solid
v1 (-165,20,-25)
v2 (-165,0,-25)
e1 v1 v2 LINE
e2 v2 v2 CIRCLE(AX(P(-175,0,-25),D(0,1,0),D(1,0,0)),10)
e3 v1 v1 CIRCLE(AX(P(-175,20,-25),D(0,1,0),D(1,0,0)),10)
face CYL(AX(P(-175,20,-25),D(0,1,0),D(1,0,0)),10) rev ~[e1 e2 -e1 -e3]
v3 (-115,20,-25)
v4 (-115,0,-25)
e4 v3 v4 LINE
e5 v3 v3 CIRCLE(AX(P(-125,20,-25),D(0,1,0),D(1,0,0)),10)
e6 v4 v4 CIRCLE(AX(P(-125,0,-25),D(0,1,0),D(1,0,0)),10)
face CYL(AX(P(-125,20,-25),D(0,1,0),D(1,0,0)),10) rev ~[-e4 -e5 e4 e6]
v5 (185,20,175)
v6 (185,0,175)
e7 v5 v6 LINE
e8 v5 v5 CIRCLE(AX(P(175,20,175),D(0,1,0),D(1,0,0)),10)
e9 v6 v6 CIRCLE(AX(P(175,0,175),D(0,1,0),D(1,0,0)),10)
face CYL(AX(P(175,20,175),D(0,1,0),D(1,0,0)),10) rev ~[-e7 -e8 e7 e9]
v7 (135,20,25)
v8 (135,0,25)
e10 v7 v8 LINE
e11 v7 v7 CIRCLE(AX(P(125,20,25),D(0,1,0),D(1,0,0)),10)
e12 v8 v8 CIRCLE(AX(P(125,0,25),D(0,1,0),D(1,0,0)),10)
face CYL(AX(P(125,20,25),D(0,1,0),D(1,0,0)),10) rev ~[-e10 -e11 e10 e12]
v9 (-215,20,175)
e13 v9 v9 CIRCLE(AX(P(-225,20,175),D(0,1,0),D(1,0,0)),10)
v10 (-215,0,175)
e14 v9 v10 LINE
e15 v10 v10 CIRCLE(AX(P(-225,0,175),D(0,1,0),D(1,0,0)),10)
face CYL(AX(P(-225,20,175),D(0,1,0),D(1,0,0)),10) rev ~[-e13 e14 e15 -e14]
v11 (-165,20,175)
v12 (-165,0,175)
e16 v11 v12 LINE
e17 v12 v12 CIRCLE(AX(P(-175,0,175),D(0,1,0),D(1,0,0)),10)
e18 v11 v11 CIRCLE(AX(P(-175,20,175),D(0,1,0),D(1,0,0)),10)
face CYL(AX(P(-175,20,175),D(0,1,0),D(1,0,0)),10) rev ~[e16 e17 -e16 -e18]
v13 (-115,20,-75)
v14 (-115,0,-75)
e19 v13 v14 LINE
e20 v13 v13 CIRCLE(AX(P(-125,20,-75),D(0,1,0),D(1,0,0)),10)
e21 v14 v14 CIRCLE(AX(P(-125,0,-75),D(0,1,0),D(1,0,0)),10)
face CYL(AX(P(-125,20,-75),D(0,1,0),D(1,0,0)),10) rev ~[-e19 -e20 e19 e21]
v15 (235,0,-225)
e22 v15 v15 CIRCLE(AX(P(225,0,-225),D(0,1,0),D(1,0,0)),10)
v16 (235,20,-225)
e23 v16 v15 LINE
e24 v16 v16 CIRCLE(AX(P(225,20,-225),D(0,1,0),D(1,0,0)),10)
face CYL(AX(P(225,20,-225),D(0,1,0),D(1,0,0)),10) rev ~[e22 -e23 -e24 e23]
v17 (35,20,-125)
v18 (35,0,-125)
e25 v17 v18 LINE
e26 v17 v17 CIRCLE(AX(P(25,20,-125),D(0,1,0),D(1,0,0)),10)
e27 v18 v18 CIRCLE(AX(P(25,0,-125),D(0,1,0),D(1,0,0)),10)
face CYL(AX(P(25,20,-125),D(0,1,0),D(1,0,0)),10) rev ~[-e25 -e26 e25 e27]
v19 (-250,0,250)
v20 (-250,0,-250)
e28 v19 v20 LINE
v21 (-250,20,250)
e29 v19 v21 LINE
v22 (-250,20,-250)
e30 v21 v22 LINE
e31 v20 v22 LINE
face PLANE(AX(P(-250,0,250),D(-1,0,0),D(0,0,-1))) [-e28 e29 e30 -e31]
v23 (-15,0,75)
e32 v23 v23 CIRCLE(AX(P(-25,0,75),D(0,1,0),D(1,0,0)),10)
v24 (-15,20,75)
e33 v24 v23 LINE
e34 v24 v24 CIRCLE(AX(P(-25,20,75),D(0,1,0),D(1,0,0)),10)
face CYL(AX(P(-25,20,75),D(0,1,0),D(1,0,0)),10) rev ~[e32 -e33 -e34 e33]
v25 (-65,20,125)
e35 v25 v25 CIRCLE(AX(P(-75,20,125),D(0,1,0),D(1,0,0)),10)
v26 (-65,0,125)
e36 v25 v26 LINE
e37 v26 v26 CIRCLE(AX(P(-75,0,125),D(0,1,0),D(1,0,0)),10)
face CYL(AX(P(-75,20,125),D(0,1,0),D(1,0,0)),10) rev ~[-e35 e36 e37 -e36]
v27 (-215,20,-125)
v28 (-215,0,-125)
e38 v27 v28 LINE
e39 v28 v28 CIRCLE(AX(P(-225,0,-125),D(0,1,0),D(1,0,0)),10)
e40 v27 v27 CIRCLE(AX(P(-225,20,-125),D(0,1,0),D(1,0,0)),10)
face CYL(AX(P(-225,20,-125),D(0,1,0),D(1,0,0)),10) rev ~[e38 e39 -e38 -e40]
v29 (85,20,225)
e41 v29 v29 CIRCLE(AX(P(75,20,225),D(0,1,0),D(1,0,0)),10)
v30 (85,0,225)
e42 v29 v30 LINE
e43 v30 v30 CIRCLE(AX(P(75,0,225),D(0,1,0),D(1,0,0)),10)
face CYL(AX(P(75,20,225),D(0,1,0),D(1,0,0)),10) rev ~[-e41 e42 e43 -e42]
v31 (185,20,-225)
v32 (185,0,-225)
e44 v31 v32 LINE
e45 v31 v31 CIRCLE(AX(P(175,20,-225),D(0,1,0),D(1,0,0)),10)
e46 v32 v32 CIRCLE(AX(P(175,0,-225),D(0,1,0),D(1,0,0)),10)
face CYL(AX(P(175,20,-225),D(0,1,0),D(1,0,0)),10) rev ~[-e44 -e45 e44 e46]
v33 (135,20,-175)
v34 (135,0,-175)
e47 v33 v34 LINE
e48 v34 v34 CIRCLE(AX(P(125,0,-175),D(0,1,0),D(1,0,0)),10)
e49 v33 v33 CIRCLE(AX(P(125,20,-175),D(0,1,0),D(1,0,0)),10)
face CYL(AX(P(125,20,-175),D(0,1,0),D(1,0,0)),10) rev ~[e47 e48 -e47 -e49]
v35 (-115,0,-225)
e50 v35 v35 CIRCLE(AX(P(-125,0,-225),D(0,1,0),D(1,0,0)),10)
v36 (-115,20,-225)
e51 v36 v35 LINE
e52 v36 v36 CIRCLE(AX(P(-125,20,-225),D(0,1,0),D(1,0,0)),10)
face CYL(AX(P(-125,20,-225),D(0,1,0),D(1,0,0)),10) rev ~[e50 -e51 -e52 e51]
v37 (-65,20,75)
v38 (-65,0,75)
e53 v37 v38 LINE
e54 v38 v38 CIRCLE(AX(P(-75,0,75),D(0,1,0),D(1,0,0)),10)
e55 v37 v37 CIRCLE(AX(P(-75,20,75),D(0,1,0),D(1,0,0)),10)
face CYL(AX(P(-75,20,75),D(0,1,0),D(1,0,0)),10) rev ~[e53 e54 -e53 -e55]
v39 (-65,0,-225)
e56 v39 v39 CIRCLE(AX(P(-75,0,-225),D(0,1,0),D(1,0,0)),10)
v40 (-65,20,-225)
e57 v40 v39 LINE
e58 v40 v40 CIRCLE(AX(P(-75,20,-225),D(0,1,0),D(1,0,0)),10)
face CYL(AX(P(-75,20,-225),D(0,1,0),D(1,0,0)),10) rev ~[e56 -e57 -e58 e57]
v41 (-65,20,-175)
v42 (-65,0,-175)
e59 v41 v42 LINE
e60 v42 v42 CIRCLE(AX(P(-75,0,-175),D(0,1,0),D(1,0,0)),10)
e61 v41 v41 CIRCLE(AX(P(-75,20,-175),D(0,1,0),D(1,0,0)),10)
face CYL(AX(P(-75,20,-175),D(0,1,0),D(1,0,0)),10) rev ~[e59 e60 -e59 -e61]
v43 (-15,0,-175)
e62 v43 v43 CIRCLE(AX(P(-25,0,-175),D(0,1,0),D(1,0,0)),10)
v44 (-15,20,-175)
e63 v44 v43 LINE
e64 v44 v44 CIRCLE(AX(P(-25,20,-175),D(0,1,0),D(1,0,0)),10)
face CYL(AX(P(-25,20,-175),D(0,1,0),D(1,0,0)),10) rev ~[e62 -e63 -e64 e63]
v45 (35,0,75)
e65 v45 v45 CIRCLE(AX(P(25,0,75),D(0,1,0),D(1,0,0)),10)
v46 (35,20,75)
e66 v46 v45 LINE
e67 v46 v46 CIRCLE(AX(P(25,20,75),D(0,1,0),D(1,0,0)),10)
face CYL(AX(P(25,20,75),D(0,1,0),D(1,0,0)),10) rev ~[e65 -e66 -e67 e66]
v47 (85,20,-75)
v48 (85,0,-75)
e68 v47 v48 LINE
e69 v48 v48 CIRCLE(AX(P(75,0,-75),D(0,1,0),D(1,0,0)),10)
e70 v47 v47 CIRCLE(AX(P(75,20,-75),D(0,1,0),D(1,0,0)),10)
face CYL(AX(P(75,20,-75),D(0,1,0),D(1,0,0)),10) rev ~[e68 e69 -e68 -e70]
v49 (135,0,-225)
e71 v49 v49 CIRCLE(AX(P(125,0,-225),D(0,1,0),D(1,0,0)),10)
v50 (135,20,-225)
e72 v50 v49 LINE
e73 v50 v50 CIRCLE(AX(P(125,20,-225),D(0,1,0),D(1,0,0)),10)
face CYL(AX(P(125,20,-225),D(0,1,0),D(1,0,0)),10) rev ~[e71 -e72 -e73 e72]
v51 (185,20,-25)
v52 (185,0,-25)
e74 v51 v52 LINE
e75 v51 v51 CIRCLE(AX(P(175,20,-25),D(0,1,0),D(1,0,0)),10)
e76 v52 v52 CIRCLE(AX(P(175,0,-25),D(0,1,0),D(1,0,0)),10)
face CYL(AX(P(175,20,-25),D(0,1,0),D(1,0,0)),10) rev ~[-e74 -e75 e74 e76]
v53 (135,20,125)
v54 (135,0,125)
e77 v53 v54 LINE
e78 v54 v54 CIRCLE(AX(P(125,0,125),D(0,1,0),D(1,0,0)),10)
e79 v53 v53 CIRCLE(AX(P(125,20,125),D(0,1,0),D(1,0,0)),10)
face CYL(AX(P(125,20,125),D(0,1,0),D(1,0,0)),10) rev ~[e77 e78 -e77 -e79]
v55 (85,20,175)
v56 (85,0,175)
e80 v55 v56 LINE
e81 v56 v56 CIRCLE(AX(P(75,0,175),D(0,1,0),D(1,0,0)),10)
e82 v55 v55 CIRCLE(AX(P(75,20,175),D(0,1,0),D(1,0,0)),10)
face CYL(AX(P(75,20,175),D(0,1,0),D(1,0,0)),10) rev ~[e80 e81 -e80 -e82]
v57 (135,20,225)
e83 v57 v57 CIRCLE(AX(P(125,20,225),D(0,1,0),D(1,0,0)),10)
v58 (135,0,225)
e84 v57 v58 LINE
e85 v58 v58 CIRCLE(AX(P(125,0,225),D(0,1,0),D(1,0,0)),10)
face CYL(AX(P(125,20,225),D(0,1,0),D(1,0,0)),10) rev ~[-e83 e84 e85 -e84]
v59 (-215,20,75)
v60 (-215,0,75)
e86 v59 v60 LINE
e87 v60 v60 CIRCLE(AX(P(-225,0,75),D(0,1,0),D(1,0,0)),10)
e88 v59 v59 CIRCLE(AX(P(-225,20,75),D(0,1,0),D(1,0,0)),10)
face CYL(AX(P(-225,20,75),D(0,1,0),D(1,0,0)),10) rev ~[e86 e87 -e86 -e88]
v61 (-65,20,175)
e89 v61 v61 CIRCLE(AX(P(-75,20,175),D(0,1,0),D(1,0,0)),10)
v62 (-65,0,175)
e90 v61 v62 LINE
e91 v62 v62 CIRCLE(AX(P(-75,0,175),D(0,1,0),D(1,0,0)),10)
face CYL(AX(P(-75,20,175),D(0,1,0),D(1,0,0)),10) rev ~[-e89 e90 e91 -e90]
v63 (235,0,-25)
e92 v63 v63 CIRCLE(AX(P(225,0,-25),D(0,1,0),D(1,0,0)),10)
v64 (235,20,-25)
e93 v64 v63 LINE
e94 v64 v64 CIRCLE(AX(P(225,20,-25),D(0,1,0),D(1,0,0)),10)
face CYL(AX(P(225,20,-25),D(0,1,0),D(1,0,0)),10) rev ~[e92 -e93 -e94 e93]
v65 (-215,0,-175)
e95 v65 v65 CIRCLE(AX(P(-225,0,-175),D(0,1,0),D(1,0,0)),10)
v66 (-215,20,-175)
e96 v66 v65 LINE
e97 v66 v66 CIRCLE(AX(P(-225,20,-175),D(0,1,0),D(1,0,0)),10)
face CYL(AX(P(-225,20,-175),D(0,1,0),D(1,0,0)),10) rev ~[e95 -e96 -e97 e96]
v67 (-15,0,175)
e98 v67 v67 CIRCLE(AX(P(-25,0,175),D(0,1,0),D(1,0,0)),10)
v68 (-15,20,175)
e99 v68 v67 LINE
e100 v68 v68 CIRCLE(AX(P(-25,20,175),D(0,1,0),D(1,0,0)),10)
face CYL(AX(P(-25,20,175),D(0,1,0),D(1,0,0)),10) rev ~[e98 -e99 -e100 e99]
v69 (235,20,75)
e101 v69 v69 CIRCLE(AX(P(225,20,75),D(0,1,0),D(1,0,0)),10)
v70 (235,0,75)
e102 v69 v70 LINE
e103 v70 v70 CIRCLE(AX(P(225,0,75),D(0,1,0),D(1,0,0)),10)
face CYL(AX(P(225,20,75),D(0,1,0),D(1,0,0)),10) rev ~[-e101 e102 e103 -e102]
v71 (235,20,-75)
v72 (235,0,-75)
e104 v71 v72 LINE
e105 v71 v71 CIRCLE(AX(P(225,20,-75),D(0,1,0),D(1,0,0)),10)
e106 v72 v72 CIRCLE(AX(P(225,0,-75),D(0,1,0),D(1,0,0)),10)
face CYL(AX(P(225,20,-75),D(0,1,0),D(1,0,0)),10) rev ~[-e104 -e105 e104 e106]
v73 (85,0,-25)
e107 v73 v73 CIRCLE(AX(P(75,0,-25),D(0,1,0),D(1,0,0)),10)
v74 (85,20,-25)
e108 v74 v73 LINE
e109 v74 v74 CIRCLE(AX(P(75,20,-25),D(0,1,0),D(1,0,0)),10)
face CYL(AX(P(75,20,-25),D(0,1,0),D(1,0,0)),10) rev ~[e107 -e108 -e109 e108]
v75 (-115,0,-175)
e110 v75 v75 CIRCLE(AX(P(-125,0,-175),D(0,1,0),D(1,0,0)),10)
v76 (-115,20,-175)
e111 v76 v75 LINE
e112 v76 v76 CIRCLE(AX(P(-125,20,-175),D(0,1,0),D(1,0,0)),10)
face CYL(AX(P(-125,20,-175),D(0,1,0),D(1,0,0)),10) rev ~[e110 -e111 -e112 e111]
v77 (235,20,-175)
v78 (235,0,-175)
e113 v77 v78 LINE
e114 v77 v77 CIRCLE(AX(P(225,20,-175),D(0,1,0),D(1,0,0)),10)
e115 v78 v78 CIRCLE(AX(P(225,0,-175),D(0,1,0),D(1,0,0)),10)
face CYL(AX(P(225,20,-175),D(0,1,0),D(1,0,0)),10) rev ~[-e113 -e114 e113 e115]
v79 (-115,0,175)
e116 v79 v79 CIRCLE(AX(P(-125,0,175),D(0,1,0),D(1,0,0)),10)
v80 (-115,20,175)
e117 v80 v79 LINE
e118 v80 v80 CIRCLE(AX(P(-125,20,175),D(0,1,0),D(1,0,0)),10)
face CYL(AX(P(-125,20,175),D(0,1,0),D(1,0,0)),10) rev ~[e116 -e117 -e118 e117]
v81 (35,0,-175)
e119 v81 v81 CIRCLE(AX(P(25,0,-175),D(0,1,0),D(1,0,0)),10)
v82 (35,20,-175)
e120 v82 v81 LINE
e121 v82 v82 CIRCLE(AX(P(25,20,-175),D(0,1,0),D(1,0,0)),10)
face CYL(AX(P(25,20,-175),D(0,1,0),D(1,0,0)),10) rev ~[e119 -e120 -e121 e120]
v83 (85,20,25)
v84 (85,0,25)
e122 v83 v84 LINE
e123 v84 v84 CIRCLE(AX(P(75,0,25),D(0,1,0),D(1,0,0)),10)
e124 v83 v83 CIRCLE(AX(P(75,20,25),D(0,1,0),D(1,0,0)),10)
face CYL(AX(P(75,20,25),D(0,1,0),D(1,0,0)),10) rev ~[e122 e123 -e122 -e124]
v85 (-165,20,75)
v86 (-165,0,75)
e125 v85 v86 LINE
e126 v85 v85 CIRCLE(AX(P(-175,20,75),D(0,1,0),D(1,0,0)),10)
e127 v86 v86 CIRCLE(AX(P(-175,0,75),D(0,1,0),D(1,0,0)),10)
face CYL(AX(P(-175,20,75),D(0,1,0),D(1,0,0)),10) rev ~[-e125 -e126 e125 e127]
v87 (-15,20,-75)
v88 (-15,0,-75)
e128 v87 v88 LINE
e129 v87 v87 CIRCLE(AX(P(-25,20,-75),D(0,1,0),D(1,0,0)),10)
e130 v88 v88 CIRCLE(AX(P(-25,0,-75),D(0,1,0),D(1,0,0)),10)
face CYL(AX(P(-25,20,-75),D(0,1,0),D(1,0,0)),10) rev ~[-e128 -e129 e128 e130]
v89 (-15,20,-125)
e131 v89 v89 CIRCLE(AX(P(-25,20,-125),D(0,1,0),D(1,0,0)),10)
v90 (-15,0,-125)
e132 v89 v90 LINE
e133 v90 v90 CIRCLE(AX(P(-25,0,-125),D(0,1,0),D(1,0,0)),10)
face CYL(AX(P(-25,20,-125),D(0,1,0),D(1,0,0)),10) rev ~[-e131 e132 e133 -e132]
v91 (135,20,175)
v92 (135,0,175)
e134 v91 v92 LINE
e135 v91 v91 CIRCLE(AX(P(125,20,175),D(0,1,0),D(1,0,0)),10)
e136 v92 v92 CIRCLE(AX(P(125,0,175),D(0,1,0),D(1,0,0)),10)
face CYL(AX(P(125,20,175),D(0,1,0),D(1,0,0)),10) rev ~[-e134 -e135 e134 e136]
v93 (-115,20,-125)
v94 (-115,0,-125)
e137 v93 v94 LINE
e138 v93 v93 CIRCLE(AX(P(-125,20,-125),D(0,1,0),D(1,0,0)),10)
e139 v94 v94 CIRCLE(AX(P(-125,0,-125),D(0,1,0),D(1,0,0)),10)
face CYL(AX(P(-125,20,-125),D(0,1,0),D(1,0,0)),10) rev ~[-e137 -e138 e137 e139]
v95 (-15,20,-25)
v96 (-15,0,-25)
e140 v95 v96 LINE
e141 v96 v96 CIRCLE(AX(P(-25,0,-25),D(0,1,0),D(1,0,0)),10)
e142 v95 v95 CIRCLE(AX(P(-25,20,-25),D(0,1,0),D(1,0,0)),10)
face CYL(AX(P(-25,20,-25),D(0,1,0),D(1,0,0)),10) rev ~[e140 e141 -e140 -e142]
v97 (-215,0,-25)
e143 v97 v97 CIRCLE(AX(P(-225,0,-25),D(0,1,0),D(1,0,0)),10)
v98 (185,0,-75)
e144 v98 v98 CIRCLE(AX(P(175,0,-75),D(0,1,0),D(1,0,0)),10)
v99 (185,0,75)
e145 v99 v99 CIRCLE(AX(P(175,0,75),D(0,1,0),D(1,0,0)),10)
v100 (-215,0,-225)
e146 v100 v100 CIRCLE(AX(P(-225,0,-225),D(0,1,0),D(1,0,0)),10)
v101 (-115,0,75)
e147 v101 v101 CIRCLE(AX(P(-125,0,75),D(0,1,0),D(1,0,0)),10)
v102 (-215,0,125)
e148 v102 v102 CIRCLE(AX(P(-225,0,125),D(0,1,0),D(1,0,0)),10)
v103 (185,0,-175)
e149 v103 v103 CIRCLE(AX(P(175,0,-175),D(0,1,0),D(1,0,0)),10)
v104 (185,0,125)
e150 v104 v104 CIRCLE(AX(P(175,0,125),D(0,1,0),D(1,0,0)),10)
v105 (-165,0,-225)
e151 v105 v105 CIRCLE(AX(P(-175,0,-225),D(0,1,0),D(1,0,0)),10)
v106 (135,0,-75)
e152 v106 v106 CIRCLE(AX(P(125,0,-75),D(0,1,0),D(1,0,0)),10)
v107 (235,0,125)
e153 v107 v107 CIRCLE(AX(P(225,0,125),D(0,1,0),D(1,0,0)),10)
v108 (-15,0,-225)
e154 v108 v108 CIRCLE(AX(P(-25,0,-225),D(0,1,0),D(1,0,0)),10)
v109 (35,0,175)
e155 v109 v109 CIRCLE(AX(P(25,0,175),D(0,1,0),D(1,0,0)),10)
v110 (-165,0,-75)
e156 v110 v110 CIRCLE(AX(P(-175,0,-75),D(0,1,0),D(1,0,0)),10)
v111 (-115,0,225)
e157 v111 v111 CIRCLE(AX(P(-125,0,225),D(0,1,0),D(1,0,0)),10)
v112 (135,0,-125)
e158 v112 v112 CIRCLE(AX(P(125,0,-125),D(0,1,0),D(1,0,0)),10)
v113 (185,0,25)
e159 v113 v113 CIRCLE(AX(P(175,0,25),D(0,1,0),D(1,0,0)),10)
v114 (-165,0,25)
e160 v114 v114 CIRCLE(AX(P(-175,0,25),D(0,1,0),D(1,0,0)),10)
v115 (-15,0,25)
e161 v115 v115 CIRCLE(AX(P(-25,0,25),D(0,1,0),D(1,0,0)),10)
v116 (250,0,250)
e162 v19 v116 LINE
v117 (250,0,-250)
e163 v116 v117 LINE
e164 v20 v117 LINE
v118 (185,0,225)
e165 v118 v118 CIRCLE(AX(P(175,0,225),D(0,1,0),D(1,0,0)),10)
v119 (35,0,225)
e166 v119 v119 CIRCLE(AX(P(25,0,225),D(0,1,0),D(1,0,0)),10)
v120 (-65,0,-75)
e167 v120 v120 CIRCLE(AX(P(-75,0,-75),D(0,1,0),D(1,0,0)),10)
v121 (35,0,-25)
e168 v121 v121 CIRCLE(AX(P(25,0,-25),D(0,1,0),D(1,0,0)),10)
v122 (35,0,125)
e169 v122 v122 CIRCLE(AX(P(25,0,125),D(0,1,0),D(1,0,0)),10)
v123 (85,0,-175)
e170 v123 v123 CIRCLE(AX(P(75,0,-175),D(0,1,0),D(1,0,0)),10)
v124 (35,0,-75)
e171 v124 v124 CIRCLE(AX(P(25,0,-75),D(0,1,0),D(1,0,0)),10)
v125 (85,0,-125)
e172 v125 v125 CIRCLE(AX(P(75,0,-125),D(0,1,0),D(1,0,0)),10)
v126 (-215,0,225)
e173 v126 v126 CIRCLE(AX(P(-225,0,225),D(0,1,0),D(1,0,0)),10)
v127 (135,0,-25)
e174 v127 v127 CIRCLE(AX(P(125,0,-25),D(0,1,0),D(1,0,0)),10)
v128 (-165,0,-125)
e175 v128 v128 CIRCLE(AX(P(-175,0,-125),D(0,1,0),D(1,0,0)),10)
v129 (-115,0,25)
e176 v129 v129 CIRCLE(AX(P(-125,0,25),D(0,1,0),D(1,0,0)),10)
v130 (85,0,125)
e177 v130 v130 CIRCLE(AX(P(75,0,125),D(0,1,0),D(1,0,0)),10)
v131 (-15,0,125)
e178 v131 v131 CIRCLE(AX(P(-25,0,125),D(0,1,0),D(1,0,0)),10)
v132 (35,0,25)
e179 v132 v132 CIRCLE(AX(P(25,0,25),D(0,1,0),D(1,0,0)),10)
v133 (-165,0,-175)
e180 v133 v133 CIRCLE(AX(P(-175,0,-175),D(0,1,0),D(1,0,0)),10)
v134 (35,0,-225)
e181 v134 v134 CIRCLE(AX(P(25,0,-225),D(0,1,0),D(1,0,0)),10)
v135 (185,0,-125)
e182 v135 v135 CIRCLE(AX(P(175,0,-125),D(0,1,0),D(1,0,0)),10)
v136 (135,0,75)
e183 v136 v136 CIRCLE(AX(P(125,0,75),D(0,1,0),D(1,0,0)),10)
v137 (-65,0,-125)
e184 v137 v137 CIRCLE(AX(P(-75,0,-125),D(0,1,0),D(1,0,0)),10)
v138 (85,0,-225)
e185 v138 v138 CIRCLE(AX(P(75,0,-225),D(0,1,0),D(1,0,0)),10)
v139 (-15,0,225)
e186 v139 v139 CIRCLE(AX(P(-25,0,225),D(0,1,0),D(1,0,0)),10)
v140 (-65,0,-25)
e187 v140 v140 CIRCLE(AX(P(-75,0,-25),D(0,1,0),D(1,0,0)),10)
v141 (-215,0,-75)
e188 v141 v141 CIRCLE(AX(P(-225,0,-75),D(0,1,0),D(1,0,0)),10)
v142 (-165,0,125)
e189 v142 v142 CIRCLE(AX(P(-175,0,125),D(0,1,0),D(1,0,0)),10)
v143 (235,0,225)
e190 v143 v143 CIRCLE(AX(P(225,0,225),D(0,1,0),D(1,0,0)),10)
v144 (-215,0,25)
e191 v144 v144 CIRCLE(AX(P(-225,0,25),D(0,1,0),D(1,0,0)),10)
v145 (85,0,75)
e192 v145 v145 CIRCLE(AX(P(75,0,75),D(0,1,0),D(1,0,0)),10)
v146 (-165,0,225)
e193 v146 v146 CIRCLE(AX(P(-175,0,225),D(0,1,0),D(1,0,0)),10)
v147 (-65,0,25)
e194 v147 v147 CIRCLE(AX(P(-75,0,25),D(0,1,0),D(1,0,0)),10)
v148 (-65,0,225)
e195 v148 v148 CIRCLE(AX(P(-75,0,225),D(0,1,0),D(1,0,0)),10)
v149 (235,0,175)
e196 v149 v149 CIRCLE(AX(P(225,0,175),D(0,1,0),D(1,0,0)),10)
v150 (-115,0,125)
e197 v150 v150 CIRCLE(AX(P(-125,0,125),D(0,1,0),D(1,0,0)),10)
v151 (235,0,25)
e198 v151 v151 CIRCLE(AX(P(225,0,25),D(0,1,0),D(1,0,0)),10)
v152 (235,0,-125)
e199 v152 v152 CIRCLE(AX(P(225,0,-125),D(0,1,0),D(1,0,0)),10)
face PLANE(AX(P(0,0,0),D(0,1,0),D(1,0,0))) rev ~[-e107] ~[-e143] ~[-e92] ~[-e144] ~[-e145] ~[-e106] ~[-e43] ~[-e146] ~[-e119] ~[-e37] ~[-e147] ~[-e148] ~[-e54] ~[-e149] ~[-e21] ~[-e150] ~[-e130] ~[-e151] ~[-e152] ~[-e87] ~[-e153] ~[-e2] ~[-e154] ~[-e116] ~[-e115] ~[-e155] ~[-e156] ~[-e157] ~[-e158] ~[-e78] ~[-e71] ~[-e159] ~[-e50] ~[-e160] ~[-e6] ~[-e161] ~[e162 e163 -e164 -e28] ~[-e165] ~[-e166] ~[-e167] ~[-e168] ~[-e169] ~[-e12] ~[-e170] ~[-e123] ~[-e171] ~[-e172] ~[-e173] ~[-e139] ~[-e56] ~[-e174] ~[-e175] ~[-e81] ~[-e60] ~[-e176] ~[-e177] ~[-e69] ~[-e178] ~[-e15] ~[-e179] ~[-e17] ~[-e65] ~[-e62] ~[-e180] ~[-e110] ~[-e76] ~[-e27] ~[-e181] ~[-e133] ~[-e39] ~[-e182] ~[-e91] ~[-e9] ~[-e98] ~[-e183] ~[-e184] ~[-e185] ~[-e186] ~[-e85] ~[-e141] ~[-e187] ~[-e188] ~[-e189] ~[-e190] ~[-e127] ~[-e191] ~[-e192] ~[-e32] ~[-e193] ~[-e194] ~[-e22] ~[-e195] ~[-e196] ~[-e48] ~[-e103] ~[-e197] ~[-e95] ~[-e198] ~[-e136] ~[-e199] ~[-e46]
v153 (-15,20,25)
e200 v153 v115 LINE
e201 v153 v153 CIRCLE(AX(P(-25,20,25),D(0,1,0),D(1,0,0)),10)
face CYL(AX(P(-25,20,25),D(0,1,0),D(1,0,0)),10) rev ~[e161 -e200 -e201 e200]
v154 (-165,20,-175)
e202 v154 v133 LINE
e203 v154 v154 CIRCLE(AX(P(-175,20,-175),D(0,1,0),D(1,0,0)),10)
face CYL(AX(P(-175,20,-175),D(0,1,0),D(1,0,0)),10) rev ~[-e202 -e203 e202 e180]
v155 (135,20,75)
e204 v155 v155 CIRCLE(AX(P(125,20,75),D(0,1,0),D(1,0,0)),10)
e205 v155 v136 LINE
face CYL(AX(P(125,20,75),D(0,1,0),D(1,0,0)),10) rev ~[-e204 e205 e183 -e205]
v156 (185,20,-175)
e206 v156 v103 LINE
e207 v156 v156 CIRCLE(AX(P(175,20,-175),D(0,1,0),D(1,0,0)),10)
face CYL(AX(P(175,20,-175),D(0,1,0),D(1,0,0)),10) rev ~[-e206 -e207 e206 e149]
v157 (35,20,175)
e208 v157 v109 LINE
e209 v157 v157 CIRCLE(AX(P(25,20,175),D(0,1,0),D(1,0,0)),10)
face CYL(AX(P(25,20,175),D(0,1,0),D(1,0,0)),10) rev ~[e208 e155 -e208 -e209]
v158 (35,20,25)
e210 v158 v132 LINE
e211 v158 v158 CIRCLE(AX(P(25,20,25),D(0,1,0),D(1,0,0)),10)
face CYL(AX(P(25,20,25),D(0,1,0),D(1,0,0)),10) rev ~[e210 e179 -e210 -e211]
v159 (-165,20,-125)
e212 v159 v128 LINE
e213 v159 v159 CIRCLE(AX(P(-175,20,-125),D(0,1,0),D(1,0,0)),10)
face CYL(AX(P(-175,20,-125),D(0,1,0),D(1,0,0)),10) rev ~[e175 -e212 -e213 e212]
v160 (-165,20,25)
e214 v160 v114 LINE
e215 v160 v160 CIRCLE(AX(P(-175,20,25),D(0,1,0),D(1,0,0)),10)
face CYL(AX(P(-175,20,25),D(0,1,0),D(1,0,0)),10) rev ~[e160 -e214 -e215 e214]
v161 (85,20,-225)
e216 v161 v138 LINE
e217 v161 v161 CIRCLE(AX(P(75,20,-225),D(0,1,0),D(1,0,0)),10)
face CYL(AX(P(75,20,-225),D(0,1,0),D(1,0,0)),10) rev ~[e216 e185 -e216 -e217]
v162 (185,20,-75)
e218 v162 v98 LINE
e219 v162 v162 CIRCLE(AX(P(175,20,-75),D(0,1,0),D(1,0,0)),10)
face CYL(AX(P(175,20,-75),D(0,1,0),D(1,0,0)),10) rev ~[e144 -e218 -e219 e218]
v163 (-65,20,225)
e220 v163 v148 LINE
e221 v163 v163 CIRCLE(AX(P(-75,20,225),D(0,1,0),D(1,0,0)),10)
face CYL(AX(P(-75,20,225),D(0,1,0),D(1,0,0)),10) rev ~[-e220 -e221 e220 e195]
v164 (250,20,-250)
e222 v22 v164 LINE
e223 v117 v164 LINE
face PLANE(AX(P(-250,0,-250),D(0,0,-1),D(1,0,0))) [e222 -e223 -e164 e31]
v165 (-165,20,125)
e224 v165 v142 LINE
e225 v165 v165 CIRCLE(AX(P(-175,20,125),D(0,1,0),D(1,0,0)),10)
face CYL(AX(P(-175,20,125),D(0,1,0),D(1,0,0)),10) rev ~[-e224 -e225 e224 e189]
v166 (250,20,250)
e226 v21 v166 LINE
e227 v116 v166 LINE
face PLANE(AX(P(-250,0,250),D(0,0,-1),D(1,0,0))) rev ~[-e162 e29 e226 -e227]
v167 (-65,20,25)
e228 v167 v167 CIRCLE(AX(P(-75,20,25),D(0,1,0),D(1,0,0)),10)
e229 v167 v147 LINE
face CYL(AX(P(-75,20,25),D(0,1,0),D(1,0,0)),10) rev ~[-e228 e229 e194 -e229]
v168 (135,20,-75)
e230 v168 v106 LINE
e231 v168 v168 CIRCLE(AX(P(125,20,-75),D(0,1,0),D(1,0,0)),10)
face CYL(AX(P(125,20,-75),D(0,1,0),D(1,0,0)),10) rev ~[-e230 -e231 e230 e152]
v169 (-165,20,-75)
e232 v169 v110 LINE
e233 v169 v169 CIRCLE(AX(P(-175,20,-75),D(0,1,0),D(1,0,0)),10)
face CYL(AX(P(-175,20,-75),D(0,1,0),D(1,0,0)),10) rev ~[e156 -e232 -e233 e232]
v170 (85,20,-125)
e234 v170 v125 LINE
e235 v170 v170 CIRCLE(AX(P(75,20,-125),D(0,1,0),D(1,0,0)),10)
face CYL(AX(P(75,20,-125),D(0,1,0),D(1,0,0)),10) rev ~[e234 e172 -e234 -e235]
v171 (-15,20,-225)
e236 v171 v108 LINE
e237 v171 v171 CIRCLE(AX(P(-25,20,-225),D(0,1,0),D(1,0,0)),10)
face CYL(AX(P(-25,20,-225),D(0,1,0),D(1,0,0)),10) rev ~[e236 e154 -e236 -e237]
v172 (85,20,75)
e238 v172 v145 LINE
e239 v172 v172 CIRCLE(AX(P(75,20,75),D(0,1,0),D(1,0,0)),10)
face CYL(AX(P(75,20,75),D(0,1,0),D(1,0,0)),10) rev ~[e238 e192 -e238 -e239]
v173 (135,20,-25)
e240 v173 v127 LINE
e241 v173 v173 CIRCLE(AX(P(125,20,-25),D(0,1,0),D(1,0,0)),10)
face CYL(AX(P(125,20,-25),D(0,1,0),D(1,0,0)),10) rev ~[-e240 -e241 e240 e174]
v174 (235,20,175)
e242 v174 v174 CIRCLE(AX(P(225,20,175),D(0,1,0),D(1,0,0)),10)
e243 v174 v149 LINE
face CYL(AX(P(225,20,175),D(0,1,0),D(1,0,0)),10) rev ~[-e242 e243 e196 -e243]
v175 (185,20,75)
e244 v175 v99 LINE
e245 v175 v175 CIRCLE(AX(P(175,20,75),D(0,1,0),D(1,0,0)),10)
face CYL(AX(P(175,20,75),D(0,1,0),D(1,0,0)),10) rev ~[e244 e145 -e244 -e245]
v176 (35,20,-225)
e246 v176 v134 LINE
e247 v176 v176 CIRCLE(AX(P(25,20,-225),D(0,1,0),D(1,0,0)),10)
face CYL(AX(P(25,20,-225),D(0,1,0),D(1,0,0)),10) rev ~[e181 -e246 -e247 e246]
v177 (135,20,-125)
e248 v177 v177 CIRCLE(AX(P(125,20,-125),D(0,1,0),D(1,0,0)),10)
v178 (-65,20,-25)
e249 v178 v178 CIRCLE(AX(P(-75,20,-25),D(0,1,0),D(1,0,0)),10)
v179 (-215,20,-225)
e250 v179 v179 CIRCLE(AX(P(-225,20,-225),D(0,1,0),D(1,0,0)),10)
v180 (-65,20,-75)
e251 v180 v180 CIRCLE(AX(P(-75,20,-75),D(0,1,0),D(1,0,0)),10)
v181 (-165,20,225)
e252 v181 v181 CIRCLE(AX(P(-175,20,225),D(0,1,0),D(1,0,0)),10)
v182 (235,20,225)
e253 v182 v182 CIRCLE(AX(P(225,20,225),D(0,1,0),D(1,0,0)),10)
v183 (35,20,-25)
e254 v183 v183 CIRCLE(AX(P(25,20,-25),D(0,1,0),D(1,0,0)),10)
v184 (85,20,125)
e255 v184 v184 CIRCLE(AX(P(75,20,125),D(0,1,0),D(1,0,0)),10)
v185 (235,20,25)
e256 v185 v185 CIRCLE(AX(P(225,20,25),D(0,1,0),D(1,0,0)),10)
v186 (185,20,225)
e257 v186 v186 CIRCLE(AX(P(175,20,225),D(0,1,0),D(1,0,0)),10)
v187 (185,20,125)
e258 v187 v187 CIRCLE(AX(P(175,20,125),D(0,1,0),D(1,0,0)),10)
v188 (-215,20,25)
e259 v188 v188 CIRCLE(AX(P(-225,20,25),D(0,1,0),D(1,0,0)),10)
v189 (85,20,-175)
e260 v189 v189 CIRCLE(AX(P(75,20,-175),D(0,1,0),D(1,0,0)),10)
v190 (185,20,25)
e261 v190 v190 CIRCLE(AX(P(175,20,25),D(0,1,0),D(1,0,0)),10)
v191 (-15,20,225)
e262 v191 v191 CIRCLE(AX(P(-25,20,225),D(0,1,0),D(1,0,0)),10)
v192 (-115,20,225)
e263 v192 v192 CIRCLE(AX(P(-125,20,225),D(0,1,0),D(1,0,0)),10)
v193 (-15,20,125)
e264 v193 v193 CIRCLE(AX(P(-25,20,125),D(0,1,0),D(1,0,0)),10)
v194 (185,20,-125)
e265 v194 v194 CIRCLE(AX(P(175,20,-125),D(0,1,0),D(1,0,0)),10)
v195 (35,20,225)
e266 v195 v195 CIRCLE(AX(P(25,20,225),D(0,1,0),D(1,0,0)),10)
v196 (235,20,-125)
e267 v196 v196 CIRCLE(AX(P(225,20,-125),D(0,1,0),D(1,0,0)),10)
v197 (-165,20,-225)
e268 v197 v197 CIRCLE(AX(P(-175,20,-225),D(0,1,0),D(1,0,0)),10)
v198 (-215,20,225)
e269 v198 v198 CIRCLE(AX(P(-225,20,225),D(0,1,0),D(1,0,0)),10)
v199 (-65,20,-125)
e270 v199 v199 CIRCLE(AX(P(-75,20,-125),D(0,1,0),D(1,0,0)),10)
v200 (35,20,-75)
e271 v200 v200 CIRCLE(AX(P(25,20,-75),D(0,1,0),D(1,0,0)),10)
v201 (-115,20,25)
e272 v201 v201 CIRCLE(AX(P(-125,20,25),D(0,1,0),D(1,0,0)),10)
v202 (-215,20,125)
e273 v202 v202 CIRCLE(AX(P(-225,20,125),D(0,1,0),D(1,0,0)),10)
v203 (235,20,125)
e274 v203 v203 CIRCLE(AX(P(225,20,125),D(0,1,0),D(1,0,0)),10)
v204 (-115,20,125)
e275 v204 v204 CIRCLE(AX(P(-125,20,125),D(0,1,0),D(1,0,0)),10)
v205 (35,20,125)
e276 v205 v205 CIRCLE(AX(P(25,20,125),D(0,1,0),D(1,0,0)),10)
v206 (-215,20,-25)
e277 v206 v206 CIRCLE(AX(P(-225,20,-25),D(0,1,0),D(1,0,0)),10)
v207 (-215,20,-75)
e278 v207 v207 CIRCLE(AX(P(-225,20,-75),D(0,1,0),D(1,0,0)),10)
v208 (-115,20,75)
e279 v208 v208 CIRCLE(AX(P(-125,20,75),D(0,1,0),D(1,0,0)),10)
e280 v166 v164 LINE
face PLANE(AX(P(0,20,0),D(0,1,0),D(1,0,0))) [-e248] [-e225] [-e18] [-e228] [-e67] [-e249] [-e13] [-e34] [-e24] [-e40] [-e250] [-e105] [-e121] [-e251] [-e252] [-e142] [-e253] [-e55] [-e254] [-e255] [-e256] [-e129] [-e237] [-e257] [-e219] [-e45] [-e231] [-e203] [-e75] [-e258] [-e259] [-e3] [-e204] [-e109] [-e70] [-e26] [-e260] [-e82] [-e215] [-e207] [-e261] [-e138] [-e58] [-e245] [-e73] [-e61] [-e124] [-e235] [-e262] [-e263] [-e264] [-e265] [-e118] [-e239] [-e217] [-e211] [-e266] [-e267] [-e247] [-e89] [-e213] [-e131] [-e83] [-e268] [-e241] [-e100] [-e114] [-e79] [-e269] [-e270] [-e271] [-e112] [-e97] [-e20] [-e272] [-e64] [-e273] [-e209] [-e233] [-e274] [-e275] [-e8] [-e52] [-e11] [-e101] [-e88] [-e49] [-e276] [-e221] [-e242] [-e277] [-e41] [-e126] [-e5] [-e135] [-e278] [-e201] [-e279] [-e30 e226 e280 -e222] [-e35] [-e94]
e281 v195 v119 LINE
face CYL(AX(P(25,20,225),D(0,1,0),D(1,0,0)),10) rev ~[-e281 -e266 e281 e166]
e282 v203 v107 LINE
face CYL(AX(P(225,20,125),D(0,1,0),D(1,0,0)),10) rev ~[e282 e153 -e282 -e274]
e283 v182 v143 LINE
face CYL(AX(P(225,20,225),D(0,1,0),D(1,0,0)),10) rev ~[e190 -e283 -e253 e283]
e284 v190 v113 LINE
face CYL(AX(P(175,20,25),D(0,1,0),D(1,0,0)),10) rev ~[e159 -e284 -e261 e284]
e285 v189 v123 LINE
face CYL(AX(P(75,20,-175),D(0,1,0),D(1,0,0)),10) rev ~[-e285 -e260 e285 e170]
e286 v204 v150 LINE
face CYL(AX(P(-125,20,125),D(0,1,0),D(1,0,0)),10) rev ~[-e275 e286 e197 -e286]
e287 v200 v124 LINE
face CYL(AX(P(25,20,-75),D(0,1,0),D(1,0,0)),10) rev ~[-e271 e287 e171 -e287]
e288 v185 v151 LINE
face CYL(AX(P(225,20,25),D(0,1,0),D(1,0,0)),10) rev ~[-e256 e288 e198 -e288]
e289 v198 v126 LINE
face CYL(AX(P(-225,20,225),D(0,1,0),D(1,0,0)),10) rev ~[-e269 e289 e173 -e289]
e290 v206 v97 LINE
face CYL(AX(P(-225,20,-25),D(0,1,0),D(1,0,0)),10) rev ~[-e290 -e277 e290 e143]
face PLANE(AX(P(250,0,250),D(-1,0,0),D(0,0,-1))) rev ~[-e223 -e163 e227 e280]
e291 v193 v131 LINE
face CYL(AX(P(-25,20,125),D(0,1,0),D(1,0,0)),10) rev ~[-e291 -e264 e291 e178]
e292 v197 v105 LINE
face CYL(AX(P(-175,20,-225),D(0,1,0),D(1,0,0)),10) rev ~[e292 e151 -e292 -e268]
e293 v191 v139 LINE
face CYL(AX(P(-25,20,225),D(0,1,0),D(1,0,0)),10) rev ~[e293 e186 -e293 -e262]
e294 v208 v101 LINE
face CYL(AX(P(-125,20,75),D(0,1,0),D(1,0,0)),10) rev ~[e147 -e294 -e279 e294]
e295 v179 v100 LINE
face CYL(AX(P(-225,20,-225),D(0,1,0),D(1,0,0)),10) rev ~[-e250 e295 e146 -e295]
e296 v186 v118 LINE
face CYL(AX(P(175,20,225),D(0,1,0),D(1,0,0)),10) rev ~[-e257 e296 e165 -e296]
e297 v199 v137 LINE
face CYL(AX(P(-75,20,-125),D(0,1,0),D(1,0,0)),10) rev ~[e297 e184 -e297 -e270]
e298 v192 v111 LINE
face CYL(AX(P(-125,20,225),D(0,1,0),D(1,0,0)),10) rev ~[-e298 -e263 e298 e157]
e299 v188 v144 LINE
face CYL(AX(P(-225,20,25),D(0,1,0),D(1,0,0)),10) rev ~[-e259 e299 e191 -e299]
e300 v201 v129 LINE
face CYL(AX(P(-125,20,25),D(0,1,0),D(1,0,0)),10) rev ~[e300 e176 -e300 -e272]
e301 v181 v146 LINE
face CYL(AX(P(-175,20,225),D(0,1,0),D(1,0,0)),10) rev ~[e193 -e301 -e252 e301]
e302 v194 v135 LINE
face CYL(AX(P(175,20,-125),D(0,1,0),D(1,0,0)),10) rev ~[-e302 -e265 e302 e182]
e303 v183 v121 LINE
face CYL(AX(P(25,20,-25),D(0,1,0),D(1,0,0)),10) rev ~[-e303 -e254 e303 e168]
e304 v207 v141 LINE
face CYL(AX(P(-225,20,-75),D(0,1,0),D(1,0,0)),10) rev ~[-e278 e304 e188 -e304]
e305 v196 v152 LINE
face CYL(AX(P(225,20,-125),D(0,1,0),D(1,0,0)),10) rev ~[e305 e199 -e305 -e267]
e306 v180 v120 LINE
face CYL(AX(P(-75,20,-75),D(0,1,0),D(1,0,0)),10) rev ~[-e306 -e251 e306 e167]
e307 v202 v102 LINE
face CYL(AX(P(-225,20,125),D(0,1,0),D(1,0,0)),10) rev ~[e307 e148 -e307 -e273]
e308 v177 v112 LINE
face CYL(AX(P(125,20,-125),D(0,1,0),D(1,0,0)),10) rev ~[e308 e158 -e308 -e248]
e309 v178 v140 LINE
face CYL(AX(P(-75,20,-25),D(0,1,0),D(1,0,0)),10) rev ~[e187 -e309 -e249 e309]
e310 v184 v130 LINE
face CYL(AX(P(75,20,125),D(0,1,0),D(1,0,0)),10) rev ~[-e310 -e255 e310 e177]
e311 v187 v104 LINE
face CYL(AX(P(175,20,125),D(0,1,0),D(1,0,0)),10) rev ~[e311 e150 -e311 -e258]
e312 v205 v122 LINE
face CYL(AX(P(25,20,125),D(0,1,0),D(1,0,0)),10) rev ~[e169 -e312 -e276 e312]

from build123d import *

# Parameters (mm, degrees)
ESBO_O1_W                = 500
ESBO_O1_H                = 500
RESSALTO_EXTRUS_O1_DEPTH = 20
ESBO_O2_R                = 10
CORTE_EXTRUS_O1_DEPTH    = 21


with BuildPart() as part:
    # Esboço1 → Ressalto-extrusão1 (new body)
    with BuildSketch(Plane(origin=(0, 0, 0), x_dir=(1, 0, 0), z_dir=(0, 1, 0))):
        Rectangle(ESBO_O1_W, ESBO_O1_H)
    extrude(amount=RESSALTO_EXTRUS_O1_DEPTH)

    # Esboço2 → Corte-extrusão1 (cut, through all)
    with BuildSketch(Plane(origin=(0, 20, 0), x_dir=(1, 0, 0), z_dir=(0, 1, 0))):
        with Locations((-225, 225)):
            Circle(ESBO_O2_R)
        with Locations((-175, 225)):
            Circle(ESBO_O2_R)
        with Locations((-125, 225)):
            Circle(ESBO_O2_R)
        with Locations((-75, 225)):
            Circle(ESBO_O2_R)
        with Locations((-25, 225)):
            Circle(ESBO_O2_R)
        with Locations((25, 225)):
            Circle(ESBO_O2_R)
        with Locations((75, 225)):
            Circle(ESBO_O2_R)
        with Locations((125, 225)):
            Circle(ESBO_O2_R)
        with Locations((175, 225)):
            Circle(ESBO_O2_R)
        with Locations((225, 225)):
            Circle(ESBO_O2_R)
        with Locations((-175, 175)):
            Circle(ESBO_O2_R)
        with Locations((-125, 175)):
            Circle(ESBO_O2_R)
        with Locations((-75, 175)):
            Circle(ESBO_O2_R)
        with Locations((-25, 175)):
            Circle(ESBO_O2_R)
        with Locations((25, 175)):
            Circle(ESBO_O2_R)
        with Locations((75, 175)):
            Circle(ESBO_O2_R)
        with Locations((125, 175)):
            Circle(ESBO_O2_R)
        with Locations((175, 175)):
            Circle(ESBO_O2_R)
        with Locations((225, 175)):
            Circle(ESBO_O2_R)
        with Locations((-175, 125)):
            Circle(ESBO_O2_R)
        with Locations((-125, 125)):
            Circle(ESBO_O2_R)
        with Locations((-75, 125)):
            Circle(ESBO_O2_R)
        with Locations((-25, 125)):
            Circle(ESBO_O2_R)
        with Locations((25, 125)):
            Circle(ESBO_O2_R)
        with Locations((75, 125)):
            Circle(ESBO_O2_R)
        with Locations((125, 125)):
            Circle(ESBO_O2_R)
        with Locations((175, 125)):
            Circle(ESBO_O2_R)
        with Locations((225, 125)):
            Circle(ESBO_O2_R)
        with Locations((-175, 75)):
            Circle(ESBO_O2_R)
        with Locations((-125, 75)):
            Circle(ESBO_O2_R)
        with Locations((-75, 75)):
            Circle(ESBO_O2_R)
        with Locations((-25, 75)):
            Circle(ESBO_O2_R)
        with Locations((25, 75)):
            Circle(ESBO_O2_R)
        with Locations((75, 75)):
            Circle(ESBO_O2_R)
        with Locations((125, 75)):
            Circle(ESBO_O2_R)
        with Locations((175, 75)):
            Circle(ESBO_O2_R)
        with Locations((225, 75)):
            Circle(ESBO_O2_R)
        with Locations((-175, 25)):
            Circle(ESBO_O2_R)
        with Locations((-125, 25)):
            Circle(ESBO_O2_R)
        with Locations((-75, 25)):
            Circle(ESBO_O2_R)
        with Locations((-25, 25)):
            Circle(ESBO_O2_R)
        with Locations((25, 25)):
            Circle(ESBO_O2_R)
        with Locations((75, 25)):
            Circle(ESBO_O2_R)
        with Locations((125, 25)):
            Circle(ESBO_O2_R)
        with Locations((175, 25)):
            Circle(ESBO_O2_R)
        with Locations((225, 25)):
            Circle(ESBO_O2_R)
        with Locations((-175, -25)):
            Circle(ESBO_O2_R)
        with Locations((-125, -25)):
            Circle(ESBO_O2_R)
        with Locations((-75, -25)):
            Circle(ESBO_O2_R)
        with Locations((-25, -25)):
            Circle(ESBO_O2_R)
        with Locations((25, -25)):
            Circle(ESBO_O2_R)
        with Locations((75, -25)):
            Circle(ESBO_O2_R)
        with Locations((125, -25)):
            Circle(ESBO_O2_R)
        with Locations((175, -25)):
            Circle(ESBO_O2_R)
        with Locations((225, -25)):
            Circle(ESBO_O2_R)
        with Locations((-175, -75)):
            Circle(ESBO_O2_R)
        with Locations((-125, -75)):
            Circle(ESBO_O2_R)
        with Locations((-75, -75)):
            Circle(ESBO_O2_R)
        with Locations((-25, -75)):
            Circle(ESBO_O2_R)
        with Locations((25, -75)):
            Circle(ESBO_O2_R)
        with Locations((75, -75)):
            Circle(ESBO_O2_R)
        with Locations((125, -75)):
            Circle(ESBO_O2_R)
        with Locations((175, -75)):
            Circle(ESBO_O2_R)
        with Locations((225, -75)):
            Circle(ESBO_O2_R)
        with Locations((-175, -125)):
            Circle(ESBO_O2_R)
        with Locations((-125, -125)):
            Circle(ESBO_O2_R)
        with Locations((-75, -125)):
            Circle(ESBO_O2_R)
        with Locations((-25, -125)):
            Circle(ESBO_O2_R)
        with Locations((25, -125)):
            Circle(ESBO_O2_R)
        with Locations((75, -125)):
            Circle(ESBO_O2_R)
        with Locations((125, -125)):
            Circle(ESBO_O2_R)
        with Locations((175, -125)):
            Circle(ESBO_O2_R)
        with Locations((225, -125)):
            Circle(ESBO_O2_R)
        with Locations((-175, -175)):
            Circle(ESBO_O2_R)
        with Locations((-125, -175)):
            Circle(ESBO_O2_R)
        with Locations((-75, -175)):
            Circle(ESBO_O2_R)
        with Locations((-25, -175)):
            Circle(ESBO_O2_R)
        with Locations((25, -175)):
            Circle(ESBO_O2_R)
        with Locations((75, -175)):
            Circle(ESBO_O2_R)
        with Locations((125, -175)):
            Circle(ESBO_O2_R)
        with Locations((175, -175)):
            Circle(ESBO_O2_R)
        with Locations((225, -175)):
            Circle(ESBO_O2_R)
        with Locations((-175, -225)):
            Circle(ESBO_O2_R)
        with Locations((-125, -225)):
            Circle(ESBO_O2_R)
        with Locations((-75, -225)):
            Circle(ESBO_O2_R)
        with Locations((-25, -225)):
            Circle(ESBO_O2_R)
        with Locations((25, -225)):
            Circle(ESBO_O2_R)
        with Locations((75, -225)):
            Circle(ESBO_O2_R)
        with Locations((125, -225)):
            Circle(ESBO_O2_R)
        with Locations((175, -225)):
            Circle(ESBO_O2_R)
        with Locations((225, -225)):
            Circle(ESBO_O2_R)
        with Locations((-225, 175)):
            Circle(ESBO_O2_R)
        with Locations((-225, 125)):
            Circle(ESBO_O2_R)
        with Locations((-225, 75)):
            Circle(ESBO_O2_R)
        with Locations((-225, 25)):
            Circle(ESBO_O2_R)
        with Locations((-225, -25)):
            Circle(ESBO_O2_R)
        with Locations((-225, -75)):
            Circle(ESBO_O2_R)
        with Locations((-225, -125)):
            Circle(ESBO_O2_R)
        with Locations((-225, -175)):
            Circle(ESBO_O2_R)
        with Locations((-225, -225)):
            Circle(ESBO_O2_R)
    extrude(amount=-CORTE_EXTRUS_O1_DEPTH, mode=Mode.SUBTRACT)


solid = part.part
